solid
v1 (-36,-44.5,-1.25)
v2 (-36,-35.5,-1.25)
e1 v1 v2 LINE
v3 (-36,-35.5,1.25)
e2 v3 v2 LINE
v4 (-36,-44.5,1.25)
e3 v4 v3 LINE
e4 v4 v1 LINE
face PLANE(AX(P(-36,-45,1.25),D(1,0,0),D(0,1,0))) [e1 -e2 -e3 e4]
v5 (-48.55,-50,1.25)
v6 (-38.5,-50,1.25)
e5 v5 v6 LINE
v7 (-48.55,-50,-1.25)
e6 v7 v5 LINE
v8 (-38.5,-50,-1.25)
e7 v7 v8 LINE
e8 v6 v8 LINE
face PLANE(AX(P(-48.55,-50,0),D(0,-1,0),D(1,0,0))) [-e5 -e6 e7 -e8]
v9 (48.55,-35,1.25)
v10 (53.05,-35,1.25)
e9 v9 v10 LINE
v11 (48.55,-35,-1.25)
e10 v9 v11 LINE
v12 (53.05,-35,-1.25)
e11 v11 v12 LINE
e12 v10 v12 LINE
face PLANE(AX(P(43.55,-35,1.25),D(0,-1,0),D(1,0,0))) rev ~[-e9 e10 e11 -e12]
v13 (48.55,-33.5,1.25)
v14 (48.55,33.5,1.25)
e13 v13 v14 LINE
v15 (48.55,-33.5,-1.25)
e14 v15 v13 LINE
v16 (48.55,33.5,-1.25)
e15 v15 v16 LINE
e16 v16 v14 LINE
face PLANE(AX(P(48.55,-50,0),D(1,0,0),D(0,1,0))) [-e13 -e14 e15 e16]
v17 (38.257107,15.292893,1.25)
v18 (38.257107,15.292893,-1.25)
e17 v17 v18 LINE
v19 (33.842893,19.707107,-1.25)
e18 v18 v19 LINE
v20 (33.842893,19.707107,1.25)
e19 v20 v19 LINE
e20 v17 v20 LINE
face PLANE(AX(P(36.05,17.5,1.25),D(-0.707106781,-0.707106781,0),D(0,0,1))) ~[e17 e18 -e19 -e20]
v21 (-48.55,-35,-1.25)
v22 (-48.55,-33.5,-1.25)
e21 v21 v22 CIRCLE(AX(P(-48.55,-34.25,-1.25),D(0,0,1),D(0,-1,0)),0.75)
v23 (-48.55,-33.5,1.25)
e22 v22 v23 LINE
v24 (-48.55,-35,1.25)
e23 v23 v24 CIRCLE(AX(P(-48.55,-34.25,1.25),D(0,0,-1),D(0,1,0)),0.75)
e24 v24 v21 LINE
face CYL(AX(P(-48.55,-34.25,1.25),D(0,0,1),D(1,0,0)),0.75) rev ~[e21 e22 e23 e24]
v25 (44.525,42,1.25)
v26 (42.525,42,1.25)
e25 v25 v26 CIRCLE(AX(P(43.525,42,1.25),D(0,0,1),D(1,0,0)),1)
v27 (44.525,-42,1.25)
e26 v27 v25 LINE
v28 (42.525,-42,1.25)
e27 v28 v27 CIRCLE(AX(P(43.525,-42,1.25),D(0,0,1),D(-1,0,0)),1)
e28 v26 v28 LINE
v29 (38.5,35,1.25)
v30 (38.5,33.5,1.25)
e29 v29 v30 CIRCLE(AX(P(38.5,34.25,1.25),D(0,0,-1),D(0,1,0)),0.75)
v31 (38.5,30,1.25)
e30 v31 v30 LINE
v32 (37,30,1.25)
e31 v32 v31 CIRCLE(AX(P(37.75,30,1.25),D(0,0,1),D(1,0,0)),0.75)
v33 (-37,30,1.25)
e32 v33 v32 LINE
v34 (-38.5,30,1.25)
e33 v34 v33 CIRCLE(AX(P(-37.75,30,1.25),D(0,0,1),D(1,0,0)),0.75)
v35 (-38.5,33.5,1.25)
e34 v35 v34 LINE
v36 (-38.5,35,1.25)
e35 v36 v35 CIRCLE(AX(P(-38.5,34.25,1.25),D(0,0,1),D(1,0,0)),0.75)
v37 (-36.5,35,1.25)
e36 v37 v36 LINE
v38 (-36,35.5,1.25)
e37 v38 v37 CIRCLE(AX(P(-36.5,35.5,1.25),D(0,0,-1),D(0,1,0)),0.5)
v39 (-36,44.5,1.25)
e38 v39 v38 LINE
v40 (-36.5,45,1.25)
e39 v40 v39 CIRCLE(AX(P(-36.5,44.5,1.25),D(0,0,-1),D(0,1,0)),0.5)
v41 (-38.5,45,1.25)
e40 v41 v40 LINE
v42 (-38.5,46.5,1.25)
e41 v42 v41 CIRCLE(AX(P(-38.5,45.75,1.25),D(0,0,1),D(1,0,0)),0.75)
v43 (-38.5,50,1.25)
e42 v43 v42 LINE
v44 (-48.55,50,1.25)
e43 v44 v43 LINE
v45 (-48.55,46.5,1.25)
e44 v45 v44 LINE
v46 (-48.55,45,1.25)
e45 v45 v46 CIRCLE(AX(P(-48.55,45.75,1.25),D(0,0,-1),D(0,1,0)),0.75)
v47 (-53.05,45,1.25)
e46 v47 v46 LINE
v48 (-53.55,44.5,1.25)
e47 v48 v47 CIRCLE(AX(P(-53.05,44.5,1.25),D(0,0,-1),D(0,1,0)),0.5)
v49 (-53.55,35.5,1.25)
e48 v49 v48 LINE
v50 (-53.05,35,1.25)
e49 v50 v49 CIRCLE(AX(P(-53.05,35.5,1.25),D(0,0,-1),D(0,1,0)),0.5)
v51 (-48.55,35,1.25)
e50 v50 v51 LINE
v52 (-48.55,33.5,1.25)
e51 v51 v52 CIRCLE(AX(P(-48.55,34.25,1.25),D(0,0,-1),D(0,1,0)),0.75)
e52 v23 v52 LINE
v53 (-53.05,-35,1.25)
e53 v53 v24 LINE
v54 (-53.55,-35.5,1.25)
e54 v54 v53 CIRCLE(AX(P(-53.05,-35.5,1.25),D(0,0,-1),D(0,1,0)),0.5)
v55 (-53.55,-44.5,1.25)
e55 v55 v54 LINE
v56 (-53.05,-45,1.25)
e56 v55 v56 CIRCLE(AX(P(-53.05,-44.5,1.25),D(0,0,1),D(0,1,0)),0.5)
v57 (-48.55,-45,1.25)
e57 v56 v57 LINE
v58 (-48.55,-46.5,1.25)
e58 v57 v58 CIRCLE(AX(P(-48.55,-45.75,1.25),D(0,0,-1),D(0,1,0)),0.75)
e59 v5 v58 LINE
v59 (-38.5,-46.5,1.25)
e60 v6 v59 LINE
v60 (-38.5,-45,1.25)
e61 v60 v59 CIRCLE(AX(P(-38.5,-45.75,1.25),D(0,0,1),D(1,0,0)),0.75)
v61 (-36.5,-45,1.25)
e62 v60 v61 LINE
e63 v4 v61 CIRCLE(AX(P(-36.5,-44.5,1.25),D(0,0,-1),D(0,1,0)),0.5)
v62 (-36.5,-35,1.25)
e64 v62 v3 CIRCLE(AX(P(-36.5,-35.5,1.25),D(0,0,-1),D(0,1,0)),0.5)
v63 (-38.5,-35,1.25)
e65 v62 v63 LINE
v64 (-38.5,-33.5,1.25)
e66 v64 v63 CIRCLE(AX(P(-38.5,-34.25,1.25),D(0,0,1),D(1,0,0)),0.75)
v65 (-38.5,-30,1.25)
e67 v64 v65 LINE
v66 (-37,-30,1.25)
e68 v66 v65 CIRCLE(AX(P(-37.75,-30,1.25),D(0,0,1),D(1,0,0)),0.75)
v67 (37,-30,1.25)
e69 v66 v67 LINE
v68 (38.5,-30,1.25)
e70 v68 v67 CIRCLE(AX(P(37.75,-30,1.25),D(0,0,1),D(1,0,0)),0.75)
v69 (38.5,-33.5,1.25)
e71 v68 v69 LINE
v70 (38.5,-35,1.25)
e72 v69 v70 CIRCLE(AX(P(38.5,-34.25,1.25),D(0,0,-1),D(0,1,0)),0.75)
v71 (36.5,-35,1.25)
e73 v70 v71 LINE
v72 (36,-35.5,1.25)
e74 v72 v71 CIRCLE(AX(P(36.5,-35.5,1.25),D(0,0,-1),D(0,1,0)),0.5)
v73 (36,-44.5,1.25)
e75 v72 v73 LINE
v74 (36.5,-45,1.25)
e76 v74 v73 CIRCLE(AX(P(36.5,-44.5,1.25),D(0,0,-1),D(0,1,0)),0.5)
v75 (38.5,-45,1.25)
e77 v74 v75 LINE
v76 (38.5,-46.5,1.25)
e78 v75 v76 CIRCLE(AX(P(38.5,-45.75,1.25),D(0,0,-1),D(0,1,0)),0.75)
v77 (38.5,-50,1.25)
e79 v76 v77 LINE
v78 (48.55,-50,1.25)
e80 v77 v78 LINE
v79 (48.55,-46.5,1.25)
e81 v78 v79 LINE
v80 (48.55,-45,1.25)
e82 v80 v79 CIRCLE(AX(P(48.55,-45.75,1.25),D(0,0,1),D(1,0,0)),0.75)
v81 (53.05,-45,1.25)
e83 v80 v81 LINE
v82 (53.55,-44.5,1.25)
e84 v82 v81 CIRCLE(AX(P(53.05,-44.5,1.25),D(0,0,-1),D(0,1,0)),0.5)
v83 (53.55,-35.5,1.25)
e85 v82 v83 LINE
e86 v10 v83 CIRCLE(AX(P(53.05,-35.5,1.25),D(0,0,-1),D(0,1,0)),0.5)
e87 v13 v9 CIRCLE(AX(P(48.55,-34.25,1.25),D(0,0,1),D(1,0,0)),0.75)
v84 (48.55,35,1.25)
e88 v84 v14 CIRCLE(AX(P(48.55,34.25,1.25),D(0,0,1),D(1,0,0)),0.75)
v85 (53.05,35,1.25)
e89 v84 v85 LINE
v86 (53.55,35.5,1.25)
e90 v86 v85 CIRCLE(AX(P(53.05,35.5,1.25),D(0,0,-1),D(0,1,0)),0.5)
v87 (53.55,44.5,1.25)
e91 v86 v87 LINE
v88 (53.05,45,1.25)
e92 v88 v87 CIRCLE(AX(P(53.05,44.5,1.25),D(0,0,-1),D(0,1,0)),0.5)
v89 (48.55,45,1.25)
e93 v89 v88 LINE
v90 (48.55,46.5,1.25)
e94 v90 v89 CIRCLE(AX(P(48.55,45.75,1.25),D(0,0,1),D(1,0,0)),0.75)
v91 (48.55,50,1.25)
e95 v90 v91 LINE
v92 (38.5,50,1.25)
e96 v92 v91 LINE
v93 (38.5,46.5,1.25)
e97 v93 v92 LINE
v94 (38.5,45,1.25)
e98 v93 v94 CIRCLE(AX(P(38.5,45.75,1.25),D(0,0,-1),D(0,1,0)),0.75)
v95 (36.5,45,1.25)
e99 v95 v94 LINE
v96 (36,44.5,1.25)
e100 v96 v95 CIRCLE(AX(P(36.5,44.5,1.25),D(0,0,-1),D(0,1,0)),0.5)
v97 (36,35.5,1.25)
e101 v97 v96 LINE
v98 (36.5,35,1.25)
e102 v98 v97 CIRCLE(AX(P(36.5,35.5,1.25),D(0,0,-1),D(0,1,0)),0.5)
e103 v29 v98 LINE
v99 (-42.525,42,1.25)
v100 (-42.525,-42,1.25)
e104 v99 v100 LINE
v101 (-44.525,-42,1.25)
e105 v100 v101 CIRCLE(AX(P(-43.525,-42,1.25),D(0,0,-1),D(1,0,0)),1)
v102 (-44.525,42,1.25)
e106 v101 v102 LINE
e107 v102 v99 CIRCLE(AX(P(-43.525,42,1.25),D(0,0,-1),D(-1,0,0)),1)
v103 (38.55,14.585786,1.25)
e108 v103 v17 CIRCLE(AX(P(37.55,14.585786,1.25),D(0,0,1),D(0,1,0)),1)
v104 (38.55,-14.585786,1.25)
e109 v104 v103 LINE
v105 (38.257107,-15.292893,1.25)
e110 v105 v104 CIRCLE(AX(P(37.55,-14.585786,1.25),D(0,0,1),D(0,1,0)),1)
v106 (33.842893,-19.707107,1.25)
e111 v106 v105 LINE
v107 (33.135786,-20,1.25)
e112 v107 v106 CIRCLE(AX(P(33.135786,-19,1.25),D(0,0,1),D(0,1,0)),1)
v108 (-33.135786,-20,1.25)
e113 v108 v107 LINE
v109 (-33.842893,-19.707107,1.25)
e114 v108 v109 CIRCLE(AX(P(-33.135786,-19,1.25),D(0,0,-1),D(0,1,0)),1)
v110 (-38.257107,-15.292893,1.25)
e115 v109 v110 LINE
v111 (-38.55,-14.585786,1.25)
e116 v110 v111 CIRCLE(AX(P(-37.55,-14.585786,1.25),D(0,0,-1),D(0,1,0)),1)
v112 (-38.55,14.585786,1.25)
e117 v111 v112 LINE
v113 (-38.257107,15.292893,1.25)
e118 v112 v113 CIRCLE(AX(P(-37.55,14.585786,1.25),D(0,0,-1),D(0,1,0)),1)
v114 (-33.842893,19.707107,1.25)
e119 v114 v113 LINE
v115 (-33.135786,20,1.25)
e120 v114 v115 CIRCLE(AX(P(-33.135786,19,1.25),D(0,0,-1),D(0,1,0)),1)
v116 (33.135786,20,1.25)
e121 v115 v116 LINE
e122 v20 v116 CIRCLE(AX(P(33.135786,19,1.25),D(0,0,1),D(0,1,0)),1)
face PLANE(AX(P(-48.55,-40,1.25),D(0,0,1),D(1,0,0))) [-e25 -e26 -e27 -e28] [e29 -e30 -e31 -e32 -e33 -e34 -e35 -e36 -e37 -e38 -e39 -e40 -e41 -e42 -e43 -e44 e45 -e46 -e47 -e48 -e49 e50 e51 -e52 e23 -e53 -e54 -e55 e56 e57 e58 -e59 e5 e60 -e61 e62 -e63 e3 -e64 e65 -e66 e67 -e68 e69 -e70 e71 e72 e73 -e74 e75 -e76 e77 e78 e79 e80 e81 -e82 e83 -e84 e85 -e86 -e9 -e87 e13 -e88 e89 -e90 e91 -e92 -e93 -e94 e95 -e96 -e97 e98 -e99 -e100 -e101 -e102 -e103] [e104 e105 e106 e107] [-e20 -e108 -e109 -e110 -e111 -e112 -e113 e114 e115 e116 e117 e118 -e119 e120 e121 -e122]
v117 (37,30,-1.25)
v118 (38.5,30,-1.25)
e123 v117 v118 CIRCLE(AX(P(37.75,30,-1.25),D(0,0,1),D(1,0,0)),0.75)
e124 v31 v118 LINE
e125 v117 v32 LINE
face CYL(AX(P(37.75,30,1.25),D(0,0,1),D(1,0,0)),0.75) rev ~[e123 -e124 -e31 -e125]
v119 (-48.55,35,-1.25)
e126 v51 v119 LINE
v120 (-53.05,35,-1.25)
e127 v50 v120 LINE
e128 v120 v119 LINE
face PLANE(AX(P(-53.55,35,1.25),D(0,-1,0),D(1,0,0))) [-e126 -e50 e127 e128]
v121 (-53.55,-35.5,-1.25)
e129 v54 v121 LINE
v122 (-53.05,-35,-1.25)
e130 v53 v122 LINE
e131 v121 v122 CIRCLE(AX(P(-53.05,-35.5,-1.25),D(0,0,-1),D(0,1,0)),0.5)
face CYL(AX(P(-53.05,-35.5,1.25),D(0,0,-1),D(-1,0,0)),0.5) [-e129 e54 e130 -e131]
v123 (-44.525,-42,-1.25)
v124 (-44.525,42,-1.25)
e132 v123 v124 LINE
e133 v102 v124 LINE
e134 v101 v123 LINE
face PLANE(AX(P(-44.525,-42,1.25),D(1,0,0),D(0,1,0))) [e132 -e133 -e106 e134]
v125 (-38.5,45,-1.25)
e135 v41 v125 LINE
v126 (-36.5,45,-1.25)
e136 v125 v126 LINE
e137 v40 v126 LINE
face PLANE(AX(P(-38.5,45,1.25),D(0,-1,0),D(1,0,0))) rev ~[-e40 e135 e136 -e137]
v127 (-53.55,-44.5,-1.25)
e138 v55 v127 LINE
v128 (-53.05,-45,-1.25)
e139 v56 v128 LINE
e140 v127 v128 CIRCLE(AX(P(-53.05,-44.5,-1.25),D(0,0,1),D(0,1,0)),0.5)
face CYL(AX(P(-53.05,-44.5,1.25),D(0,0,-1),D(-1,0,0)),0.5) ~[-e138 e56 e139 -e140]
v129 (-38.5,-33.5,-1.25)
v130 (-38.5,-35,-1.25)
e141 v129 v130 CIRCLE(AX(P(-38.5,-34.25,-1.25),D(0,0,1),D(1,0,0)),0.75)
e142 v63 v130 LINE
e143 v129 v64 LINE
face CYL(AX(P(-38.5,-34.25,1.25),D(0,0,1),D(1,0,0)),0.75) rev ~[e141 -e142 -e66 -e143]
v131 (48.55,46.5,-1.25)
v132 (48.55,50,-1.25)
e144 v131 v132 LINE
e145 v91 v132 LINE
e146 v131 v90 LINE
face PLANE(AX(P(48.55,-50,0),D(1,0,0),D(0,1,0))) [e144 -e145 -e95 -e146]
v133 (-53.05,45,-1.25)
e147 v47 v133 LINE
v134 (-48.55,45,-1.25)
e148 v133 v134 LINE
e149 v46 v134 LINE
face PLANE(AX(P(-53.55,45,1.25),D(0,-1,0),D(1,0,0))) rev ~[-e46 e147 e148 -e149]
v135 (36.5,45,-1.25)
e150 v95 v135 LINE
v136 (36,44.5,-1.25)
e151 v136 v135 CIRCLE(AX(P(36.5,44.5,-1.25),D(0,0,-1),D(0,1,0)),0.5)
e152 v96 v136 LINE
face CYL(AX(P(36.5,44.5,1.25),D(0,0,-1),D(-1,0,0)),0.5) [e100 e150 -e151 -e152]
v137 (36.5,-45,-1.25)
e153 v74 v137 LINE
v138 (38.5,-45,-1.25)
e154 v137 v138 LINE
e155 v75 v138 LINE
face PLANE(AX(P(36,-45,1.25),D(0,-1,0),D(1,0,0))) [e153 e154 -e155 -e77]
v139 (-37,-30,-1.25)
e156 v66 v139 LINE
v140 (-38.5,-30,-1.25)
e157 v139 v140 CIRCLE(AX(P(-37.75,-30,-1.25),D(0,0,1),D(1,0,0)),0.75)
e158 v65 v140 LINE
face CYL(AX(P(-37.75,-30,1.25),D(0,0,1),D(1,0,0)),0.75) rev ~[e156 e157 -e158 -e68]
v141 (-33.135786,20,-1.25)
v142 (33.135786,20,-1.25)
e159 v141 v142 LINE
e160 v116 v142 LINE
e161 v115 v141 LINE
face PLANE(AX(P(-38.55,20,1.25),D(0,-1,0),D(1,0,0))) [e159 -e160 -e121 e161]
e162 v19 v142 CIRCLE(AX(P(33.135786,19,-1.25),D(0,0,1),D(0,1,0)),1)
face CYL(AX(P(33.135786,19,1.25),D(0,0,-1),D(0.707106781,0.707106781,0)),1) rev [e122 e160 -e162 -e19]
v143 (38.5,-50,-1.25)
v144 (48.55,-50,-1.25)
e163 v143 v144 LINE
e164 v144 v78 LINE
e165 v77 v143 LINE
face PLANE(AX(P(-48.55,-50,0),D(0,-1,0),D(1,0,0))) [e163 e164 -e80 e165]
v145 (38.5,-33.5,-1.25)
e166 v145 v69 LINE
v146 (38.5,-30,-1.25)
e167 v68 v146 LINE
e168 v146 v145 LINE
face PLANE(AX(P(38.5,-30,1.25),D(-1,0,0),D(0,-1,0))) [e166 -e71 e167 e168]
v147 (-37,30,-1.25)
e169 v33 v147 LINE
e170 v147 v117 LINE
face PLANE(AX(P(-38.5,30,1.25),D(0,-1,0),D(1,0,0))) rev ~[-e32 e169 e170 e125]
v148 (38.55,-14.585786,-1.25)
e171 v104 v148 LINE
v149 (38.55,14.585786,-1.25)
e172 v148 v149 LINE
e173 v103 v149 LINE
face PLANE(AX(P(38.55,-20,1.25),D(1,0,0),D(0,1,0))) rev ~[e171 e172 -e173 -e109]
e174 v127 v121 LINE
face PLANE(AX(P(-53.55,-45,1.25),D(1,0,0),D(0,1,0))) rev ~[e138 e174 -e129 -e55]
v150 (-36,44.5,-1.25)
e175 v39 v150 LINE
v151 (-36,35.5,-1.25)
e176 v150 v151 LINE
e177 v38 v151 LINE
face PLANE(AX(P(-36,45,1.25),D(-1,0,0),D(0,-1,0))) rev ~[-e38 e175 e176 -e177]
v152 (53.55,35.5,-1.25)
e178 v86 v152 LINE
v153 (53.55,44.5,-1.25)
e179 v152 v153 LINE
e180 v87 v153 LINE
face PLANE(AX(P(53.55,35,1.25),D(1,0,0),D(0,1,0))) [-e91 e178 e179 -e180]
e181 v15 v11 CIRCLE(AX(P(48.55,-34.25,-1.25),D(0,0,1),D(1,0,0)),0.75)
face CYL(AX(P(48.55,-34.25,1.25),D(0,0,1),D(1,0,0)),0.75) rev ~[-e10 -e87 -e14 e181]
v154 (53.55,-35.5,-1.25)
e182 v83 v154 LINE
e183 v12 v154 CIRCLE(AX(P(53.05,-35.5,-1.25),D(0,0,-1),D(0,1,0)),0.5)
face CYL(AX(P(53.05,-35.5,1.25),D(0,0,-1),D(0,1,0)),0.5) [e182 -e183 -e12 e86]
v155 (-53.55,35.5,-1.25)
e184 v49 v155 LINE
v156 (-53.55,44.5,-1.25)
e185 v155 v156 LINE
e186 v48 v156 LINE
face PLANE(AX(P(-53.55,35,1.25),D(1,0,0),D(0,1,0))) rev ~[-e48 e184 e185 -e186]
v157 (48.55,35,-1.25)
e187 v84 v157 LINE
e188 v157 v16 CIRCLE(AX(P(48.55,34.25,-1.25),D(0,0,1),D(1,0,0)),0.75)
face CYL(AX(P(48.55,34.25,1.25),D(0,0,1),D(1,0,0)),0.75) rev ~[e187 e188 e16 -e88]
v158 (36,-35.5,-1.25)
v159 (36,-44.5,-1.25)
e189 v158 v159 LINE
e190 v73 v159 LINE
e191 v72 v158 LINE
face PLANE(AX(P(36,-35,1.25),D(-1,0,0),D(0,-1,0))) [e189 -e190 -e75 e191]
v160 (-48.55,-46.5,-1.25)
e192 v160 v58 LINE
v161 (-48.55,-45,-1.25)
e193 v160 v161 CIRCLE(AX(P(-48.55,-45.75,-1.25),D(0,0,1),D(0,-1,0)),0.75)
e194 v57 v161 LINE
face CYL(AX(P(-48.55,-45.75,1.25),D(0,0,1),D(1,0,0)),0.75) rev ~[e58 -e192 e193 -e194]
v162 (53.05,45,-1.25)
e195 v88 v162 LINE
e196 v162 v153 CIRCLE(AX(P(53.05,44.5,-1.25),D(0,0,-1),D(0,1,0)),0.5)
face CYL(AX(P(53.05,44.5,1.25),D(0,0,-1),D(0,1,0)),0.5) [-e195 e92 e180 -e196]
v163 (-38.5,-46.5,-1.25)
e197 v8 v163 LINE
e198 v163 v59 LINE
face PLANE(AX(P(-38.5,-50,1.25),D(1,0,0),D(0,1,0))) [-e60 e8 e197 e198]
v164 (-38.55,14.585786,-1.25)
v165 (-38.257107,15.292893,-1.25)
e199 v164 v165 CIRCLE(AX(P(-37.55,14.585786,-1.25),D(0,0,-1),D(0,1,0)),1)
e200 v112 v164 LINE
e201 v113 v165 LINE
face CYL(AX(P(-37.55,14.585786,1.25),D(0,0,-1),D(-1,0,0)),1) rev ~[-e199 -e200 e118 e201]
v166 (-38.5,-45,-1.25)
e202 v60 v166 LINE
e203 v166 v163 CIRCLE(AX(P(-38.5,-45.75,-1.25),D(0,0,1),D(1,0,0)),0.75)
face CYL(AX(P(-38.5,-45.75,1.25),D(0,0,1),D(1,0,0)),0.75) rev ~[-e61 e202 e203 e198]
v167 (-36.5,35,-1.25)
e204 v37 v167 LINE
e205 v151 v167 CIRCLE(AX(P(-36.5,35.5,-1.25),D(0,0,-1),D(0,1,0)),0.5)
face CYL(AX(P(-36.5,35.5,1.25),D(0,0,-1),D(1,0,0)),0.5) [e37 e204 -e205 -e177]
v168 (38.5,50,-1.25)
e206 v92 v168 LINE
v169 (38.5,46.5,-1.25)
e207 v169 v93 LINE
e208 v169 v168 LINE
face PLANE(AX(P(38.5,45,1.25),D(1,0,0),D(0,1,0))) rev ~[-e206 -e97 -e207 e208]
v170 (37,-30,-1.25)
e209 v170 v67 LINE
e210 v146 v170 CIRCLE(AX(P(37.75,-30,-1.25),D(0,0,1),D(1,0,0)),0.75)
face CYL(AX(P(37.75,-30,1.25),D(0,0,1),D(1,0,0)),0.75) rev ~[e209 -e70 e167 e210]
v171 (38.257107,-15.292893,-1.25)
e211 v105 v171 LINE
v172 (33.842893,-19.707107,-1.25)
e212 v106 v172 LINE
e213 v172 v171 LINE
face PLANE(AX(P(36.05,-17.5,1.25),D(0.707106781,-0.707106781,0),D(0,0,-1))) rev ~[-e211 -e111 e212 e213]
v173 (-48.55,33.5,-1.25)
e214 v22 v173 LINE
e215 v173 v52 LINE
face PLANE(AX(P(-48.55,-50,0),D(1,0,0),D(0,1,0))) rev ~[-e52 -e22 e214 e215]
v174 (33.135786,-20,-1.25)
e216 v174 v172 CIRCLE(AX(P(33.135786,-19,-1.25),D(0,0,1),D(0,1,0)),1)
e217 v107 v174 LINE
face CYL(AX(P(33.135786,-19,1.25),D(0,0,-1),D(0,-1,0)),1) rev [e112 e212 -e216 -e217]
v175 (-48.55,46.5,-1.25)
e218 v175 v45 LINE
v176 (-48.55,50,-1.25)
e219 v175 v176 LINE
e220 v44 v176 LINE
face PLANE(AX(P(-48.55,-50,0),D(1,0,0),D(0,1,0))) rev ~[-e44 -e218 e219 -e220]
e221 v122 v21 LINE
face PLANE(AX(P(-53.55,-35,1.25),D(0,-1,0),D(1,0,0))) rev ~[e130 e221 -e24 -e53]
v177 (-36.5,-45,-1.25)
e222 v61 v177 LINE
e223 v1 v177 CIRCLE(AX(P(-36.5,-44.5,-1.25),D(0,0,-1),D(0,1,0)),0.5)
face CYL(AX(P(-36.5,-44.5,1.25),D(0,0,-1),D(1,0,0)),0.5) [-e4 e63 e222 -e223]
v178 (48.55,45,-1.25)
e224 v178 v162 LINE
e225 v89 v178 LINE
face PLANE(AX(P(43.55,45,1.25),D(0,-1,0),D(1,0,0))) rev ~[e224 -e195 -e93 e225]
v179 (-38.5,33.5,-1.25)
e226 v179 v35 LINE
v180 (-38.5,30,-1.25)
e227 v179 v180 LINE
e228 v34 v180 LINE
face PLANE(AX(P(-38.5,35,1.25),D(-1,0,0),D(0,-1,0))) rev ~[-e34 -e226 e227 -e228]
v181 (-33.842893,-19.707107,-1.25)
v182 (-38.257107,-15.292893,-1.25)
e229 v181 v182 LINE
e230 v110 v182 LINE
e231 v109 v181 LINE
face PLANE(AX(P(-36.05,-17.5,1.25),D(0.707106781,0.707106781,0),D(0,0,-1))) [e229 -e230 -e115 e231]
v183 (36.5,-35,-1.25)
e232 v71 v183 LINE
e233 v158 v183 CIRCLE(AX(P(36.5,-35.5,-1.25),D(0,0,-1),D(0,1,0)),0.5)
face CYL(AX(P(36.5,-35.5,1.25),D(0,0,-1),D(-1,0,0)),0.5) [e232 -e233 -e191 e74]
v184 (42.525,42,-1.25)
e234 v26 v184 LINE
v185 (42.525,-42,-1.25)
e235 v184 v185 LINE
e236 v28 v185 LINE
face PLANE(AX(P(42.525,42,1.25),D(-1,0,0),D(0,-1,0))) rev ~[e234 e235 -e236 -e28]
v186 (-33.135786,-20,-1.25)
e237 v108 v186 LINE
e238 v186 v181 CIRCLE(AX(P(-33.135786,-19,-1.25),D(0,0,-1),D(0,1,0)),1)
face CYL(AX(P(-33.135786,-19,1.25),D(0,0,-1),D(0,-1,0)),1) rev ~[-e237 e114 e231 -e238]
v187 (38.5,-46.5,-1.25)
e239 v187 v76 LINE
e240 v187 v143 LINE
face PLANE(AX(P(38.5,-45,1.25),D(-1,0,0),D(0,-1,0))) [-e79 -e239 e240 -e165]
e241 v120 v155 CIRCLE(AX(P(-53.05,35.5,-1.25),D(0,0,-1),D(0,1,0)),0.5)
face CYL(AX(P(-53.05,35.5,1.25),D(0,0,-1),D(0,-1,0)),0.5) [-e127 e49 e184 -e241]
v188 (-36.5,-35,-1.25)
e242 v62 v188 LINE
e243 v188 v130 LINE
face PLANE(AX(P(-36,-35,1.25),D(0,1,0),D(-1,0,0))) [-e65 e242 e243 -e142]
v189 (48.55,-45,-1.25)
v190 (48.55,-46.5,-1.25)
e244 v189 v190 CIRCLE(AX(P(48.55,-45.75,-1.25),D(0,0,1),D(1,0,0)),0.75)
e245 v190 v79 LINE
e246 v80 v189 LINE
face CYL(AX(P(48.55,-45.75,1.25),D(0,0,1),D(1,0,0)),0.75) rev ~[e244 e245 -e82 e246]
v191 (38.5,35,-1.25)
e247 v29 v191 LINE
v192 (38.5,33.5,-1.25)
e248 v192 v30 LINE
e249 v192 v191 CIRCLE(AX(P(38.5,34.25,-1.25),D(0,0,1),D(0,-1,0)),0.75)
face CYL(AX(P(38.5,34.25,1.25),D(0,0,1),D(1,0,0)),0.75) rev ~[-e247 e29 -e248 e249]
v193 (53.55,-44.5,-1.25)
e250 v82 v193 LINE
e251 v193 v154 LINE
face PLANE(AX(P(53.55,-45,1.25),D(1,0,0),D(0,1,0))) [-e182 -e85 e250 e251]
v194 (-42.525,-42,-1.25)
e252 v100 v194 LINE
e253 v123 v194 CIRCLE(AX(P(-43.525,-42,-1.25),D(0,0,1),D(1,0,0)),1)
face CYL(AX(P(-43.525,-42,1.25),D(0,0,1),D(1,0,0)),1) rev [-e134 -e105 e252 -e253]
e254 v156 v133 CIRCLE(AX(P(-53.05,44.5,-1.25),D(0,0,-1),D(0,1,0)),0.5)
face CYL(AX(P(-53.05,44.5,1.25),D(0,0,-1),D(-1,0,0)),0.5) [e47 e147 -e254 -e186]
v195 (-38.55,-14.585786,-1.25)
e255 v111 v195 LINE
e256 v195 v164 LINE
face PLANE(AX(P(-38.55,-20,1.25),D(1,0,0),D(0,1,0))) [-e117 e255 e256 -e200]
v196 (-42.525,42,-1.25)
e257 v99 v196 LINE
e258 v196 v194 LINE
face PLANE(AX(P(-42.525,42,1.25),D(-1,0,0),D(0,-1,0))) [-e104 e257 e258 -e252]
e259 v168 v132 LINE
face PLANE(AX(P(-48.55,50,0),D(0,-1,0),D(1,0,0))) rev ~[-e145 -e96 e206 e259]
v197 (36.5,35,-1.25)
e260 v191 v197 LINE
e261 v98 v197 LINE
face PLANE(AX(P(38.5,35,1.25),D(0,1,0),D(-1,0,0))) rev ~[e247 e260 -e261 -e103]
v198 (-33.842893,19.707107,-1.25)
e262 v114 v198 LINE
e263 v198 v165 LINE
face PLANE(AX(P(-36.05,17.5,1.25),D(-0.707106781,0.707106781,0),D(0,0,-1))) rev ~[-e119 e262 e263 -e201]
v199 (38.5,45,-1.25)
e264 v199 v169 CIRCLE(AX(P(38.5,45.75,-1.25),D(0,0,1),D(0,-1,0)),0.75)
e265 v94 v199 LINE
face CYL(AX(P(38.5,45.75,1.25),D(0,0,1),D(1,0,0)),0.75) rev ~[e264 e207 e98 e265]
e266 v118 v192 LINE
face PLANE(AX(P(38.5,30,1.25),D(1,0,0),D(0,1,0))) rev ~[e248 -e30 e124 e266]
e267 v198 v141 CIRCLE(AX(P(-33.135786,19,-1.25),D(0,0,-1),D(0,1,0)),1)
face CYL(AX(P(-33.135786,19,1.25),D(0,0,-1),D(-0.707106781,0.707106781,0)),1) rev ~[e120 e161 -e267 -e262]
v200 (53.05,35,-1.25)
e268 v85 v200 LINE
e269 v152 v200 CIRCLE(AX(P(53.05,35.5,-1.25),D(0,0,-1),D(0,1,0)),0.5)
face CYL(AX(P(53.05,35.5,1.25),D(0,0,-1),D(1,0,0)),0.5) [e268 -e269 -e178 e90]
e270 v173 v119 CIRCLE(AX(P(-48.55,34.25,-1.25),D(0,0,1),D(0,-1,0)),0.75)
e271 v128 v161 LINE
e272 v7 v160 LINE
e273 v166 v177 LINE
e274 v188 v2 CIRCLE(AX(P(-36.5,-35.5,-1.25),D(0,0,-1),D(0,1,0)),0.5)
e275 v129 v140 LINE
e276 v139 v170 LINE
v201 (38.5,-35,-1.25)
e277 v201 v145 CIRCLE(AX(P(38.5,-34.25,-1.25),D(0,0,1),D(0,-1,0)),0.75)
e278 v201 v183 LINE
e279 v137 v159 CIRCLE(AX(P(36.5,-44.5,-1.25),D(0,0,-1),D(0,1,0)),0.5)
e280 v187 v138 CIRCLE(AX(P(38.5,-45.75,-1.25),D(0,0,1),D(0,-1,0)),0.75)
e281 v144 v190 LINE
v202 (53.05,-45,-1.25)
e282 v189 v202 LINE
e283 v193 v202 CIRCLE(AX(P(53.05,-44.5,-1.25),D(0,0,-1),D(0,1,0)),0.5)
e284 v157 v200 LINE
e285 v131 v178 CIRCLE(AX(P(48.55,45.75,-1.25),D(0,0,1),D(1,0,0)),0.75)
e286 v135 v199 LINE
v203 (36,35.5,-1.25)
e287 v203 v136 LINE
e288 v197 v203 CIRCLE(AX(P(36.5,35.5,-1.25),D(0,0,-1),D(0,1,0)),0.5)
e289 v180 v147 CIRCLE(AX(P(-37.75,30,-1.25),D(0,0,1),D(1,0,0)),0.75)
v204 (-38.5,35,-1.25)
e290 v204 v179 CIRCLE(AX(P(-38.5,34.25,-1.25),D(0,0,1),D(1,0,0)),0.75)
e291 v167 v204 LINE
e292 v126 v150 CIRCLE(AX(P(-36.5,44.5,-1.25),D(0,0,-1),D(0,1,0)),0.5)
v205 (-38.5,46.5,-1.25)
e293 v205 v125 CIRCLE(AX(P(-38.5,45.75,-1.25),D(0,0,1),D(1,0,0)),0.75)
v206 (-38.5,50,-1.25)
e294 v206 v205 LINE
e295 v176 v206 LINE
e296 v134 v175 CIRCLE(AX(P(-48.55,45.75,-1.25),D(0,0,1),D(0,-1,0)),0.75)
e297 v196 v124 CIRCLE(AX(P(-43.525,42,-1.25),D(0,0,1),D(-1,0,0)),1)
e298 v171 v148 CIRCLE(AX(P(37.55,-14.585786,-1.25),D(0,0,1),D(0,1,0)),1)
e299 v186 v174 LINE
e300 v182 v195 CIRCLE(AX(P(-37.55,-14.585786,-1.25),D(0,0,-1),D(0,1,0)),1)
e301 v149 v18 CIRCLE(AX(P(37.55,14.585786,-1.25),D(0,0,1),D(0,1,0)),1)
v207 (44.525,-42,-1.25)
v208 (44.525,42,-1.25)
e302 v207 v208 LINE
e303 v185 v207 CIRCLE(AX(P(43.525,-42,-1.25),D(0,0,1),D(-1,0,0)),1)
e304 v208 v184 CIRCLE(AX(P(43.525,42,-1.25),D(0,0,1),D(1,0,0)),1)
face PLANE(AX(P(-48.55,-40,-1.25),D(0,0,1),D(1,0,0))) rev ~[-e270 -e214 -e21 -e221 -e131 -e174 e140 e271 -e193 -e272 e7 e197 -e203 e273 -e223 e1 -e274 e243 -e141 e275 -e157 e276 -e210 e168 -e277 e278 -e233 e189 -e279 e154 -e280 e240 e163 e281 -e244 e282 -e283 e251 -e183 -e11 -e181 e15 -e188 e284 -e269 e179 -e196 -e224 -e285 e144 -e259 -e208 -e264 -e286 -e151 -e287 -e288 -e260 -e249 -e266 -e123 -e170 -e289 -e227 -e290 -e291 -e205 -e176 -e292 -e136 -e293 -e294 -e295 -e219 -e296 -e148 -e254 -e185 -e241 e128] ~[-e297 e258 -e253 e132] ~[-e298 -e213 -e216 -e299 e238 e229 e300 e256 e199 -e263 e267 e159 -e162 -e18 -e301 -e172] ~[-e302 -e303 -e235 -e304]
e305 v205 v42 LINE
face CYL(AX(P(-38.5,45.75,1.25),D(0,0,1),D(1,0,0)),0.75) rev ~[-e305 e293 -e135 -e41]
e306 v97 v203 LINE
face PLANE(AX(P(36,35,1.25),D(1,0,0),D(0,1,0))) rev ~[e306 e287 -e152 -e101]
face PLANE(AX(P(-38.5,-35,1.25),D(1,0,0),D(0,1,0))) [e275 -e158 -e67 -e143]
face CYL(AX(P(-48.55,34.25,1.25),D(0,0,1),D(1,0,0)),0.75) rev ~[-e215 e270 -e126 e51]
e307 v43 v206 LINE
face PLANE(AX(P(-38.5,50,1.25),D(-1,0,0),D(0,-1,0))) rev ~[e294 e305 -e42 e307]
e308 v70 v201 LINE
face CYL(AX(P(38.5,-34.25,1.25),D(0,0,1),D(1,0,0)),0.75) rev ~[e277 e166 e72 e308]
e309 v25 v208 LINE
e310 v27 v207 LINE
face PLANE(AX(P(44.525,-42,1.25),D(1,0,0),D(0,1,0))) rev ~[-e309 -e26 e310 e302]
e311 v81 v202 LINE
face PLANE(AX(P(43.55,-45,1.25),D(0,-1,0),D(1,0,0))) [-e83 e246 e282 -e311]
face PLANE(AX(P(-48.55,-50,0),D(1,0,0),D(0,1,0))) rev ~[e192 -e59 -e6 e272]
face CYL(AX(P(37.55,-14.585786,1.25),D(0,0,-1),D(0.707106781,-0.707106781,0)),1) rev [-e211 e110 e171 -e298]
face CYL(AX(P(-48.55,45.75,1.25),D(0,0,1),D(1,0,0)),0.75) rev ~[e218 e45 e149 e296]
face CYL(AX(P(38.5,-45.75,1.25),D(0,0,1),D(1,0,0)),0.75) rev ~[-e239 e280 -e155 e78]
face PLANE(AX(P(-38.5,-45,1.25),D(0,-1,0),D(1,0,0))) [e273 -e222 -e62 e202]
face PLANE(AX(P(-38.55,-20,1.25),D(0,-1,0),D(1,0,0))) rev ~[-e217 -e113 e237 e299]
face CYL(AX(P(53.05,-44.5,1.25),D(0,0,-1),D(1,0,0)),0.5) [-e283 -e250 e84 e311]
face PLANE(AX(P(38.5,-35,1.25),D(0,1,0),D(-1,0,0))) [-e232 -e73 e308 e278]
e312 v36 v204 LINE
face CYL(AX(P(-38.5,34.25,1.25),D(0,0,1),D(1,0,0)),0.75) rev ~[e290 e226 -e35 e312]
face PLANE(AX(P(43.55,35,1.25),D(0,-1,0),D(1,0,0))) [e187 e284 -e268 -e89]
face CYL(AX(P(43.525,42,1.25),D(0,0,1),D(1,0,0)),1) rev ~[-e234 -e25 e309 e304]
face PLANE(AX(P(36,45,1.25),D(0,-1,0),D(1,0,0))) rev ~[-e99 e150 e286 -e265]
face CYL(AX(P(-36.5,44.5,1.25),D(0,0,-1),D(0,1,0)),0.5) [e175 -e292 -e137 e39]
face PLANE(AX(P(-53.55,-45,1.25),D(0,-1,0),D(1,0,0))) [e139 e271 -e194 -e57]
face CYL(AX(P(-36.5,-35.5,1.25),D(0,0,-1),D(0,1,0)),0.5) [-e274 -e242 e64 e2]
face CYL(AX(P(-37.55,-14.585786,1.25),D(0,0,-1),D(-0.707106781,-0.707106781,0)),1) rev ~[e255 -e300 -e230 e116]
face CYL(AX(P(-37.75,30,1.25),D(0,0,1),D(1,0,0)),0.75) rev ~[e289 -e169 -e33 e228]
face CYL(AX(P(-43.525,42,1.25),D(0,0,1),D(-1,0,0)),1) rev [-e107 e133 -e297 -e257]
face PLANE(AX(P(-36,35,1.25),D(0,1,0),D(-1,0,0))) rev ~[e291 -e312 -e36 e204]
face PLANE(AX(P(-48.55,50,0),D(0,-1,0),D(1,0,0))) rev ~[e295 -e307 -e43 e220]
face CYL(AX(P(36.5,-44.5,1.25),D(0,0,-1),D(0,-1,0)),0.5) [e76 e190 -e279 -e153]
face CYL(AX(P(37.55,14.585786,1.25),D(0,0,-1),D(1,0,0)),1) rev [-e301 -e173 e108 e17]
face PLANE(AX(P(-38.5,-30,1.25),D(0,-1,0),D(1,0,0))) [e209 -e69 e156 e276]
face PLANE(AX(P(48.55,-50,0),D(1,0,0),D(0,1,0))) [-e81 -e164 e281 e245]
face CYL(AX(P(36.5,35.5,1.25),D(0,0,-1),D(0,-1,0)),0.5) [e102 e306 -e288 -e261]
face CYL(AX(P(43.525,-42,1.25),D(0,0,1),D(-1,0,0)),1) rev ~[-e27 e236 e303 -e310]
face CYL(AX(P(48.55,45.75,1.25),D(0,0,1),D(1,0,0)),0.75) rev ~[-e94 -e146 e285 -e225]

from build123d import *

# Parameters (mm, degrees)
SKETCH_1_W          = 97.1
SKETCH_1_H          = 100
EXTRUDE_1_DEPTH     = 1.25
SKETCH_2_W          = 10
SKETCH_2_H          = 10
EXTRUDE_2_DEPTH     = 2.5
CUT_EXTRUDE_2_DEPTH = 3.5
SKETCH_3_R          = 0.75
CUT_EXTRUDE_1_DEPTH = 3.5
FILLET_1_R          = 0.5
SKETCH_6_W          = 77.1
SKETCH_6_H          = 40
CUT_EXTRUDE_3_DEPTH = 3.5
CHAMFER_1_SIZE      = 5
FILLET_2_R          = 1
CUT_EXTRUDE_4_DEPTH = 3.5


with BuildPart() as part:
    # 草图1 → 凸台-拉伸1 (new body, symmetric)
    with BuildSketch(Plane.XY):
        Rectangle(SKETCH_1_W, SKETCH_1_H)
    extrude(amount=EXTRUDE_1_DEPTH, both=True)

    # 草图2 → 凸台-拉伸2 (add)
    with BuildSketch(Plane.XY.offset(1.25)):
        with Locations((-48.55, -40)):
            Rectangle(SKETCH_2_W, SKETCH_2_H)
        with Locations((-48.55, 40)):
            Rectangle(SKETCH_2_W, SKETCH_2_H)
        with Locations((48.55, -40)):
            Rectangle(SKETCH_2_W, SKETCH_2_H)
        with Locations((48.55, 40)):
            Rectangle(SKETCH_2_W, SKETCH_2_H)
    extrude(amount=-EXTRUDE_2_DEPTH)

    # 草图5 → 切除-拉伸2 (cut, through all)
    with BuildSketch(Plane.XY.offset(1.25)):
        Polygon((-38.5, 50), (-38.5, 45), (-36, 45), (-36, 35), (-38.5, 35), (-38.5, 30), (38.5, 30), (38.5, 35), (36, 35), (36, 45), (38.5, 45), (38.5, 50), align=None)
        Polygon((-38.5, -50), (-38.5, -45), (-36, -45), (-36, -35), (-38.5, -35), (-38.5, -30), (38.5, -30), (38.5, -35), (36, -35), (36, -45), (38.5, -45), (38.5, -50), align=None)
    extrude(amount=-CUT_EXTRUDE_2_DEPTH, mode=Mode.SUBTRACT)

    # 草图3 → 切除-拉伸1 (cut, through all)
    with BuildSketch(Plane.XY.offset(1.25)):
        with Locations((-48.55, 34.25)):
            Circle(SKETCH_3_R)
        with Locations((-48.55, 45.75)):
            Circle(SKETCH_3_R)
        with Locations((-48.55, -34.25)):
            Circle(SKETCH_3_R)
        with Locations((-48.55, -45.75)):
            Circle(SKETCH_3_R)
        with Locations((48.55, -34.25)):
            Circle(SKETCH_3_R)
        with Locations((48.55, -45.75)):
            Circle(SKETCH_3_R)
        with Locations((48.55, 34.25)):
            Circle(SKETCH_3_R)
        with Locations((48.55, 45.75)):
            Circle(SKETCH_3_R)
        with Locations((-38.5, 45.75)):
            Circle(SKETCH_3_R)
        with Locations((-38.5, 34.25)):
            Circle(SKETCH_3_R)
        with Locations((-37.75, 30)):
            Circle(SKETCH_3_R)
        with Locations((-37.75, -30)):
            Circle(SKETCH_3_R)
        with Locations((-38.5, -34.25)):
            Circle(SKETCH_3_R)
        with Locations((-38.5, -45.75)):
            Circle(SKETCH_3_R)
        with Locations((38.5, -45.75)):
            Circle(SKETCH_3_R)
        with Locations((38.5, -34.25)):
            Circle(SKETCH_3_R)
        with Locations((37.75, -30)):
            Circle(SKETCH_3_R)
        with Locations((37.75, 30)):
            Circle(SKETCH_3_R)
        with Locations((38.5, 34.25)):
            Circle(SKETCH_3_R)
        with Locations((38.5, 45.75)):
            Circle(SKETCH_3_R)
    extrude(amount=-CUT_EXTRUDE_1_DEPTH, mode=Mode.SUBTRACT)

    # 圆角1
    fillet_1_edges = [part.edges().sort_by_distance(p)[0] for p in [
        (36, 45, 0),
        (36, 35, 0),
        (-36, 35, 0),
        (-36, 45, 0),
        (-36, -45, 0),
        (-36, -35, 0),
        (36, -35, 0),
        (36, -45, 0),
        (-53.55, -35, 0),
        (-53.55, -45, 0),
        (-53.55, 45, 0),
        (-53.55, 35, 0),
        (53.55, -45, 0),
        (53.55, -35, 0),
        (53.55, 35, 0),
        (53.55, 45, 0),
    ]]
    fillet(fillet_1_edges, radius=FILLET_1_R)

    # 草图6 → 切除-拉伸3 (cut, through all)
    with BuildSketch(Plane.XY.offset(1.25)):
        Rectangle(SKETCH_6_W, SKETCH_6_H)
    extrude(amount=-CUT_EXTRUDE_3_DEPTH, mode=Mode.SUBTRACT)

    # 倒角1
    chamfer_1_edges = [part.edges().sort_by_distance(p)[0] for p in [
        (-38.55, -20, 0),
        (-38.55, 20, 0),
        (38.55, 20, 0),
        (38.55, -20, 0),
    ]]
    chamfer(chamfer_1_edges, length=CHAMFER_1_SIZE)

    # 圆角2
    fillet_2_edges = [part.edges().sort_by_distance(p)[0] for p in [
        (33.55, -20, 0),
        (-33.55, -20, 0),
        (-38.55, 15, 0),
        (-38.55, -15, 0),
        (38.55, 15, 0),
        (38.55, -15, 0),
        (-33.55, 20, 0),
        (33.55, 20, 0),
    ]]
    fillet(fillet_2_edges, radius=FILLET_2_R)

    # 草图7 → 切除-拉伸4 (cut, through all)
    with BuildSketch(Plane.XY.offset(1.25)):
        with BuildLine():
            Line((-44.525, -42), (-44.525, 42))
            ThreePointArc((-44.525, 42), (-43.525, 43), (-42.525, 42))
            Line((-42.525, 42), (-42.525, -42))
            ThreePointArc((-42.525, -42), (-43.525, -43), (-44.525, -42))
        make_face()
        with BuildLine():
            Line((44.525, -42), (44.525, 42))
            ThreePointArc((44.525, 42), (43.525, 43), (42.525, 42))
            Line((42.525, 42), (42.525, -42))
            ThreePointArc((42.525, -42), (43.525, -43), (44.525, -42))
        make_face()
    extrude(amount=-CUT_EXTRUDE_4_DEPTH, mode=Mode.SUBTRACT)


solid = part.part
